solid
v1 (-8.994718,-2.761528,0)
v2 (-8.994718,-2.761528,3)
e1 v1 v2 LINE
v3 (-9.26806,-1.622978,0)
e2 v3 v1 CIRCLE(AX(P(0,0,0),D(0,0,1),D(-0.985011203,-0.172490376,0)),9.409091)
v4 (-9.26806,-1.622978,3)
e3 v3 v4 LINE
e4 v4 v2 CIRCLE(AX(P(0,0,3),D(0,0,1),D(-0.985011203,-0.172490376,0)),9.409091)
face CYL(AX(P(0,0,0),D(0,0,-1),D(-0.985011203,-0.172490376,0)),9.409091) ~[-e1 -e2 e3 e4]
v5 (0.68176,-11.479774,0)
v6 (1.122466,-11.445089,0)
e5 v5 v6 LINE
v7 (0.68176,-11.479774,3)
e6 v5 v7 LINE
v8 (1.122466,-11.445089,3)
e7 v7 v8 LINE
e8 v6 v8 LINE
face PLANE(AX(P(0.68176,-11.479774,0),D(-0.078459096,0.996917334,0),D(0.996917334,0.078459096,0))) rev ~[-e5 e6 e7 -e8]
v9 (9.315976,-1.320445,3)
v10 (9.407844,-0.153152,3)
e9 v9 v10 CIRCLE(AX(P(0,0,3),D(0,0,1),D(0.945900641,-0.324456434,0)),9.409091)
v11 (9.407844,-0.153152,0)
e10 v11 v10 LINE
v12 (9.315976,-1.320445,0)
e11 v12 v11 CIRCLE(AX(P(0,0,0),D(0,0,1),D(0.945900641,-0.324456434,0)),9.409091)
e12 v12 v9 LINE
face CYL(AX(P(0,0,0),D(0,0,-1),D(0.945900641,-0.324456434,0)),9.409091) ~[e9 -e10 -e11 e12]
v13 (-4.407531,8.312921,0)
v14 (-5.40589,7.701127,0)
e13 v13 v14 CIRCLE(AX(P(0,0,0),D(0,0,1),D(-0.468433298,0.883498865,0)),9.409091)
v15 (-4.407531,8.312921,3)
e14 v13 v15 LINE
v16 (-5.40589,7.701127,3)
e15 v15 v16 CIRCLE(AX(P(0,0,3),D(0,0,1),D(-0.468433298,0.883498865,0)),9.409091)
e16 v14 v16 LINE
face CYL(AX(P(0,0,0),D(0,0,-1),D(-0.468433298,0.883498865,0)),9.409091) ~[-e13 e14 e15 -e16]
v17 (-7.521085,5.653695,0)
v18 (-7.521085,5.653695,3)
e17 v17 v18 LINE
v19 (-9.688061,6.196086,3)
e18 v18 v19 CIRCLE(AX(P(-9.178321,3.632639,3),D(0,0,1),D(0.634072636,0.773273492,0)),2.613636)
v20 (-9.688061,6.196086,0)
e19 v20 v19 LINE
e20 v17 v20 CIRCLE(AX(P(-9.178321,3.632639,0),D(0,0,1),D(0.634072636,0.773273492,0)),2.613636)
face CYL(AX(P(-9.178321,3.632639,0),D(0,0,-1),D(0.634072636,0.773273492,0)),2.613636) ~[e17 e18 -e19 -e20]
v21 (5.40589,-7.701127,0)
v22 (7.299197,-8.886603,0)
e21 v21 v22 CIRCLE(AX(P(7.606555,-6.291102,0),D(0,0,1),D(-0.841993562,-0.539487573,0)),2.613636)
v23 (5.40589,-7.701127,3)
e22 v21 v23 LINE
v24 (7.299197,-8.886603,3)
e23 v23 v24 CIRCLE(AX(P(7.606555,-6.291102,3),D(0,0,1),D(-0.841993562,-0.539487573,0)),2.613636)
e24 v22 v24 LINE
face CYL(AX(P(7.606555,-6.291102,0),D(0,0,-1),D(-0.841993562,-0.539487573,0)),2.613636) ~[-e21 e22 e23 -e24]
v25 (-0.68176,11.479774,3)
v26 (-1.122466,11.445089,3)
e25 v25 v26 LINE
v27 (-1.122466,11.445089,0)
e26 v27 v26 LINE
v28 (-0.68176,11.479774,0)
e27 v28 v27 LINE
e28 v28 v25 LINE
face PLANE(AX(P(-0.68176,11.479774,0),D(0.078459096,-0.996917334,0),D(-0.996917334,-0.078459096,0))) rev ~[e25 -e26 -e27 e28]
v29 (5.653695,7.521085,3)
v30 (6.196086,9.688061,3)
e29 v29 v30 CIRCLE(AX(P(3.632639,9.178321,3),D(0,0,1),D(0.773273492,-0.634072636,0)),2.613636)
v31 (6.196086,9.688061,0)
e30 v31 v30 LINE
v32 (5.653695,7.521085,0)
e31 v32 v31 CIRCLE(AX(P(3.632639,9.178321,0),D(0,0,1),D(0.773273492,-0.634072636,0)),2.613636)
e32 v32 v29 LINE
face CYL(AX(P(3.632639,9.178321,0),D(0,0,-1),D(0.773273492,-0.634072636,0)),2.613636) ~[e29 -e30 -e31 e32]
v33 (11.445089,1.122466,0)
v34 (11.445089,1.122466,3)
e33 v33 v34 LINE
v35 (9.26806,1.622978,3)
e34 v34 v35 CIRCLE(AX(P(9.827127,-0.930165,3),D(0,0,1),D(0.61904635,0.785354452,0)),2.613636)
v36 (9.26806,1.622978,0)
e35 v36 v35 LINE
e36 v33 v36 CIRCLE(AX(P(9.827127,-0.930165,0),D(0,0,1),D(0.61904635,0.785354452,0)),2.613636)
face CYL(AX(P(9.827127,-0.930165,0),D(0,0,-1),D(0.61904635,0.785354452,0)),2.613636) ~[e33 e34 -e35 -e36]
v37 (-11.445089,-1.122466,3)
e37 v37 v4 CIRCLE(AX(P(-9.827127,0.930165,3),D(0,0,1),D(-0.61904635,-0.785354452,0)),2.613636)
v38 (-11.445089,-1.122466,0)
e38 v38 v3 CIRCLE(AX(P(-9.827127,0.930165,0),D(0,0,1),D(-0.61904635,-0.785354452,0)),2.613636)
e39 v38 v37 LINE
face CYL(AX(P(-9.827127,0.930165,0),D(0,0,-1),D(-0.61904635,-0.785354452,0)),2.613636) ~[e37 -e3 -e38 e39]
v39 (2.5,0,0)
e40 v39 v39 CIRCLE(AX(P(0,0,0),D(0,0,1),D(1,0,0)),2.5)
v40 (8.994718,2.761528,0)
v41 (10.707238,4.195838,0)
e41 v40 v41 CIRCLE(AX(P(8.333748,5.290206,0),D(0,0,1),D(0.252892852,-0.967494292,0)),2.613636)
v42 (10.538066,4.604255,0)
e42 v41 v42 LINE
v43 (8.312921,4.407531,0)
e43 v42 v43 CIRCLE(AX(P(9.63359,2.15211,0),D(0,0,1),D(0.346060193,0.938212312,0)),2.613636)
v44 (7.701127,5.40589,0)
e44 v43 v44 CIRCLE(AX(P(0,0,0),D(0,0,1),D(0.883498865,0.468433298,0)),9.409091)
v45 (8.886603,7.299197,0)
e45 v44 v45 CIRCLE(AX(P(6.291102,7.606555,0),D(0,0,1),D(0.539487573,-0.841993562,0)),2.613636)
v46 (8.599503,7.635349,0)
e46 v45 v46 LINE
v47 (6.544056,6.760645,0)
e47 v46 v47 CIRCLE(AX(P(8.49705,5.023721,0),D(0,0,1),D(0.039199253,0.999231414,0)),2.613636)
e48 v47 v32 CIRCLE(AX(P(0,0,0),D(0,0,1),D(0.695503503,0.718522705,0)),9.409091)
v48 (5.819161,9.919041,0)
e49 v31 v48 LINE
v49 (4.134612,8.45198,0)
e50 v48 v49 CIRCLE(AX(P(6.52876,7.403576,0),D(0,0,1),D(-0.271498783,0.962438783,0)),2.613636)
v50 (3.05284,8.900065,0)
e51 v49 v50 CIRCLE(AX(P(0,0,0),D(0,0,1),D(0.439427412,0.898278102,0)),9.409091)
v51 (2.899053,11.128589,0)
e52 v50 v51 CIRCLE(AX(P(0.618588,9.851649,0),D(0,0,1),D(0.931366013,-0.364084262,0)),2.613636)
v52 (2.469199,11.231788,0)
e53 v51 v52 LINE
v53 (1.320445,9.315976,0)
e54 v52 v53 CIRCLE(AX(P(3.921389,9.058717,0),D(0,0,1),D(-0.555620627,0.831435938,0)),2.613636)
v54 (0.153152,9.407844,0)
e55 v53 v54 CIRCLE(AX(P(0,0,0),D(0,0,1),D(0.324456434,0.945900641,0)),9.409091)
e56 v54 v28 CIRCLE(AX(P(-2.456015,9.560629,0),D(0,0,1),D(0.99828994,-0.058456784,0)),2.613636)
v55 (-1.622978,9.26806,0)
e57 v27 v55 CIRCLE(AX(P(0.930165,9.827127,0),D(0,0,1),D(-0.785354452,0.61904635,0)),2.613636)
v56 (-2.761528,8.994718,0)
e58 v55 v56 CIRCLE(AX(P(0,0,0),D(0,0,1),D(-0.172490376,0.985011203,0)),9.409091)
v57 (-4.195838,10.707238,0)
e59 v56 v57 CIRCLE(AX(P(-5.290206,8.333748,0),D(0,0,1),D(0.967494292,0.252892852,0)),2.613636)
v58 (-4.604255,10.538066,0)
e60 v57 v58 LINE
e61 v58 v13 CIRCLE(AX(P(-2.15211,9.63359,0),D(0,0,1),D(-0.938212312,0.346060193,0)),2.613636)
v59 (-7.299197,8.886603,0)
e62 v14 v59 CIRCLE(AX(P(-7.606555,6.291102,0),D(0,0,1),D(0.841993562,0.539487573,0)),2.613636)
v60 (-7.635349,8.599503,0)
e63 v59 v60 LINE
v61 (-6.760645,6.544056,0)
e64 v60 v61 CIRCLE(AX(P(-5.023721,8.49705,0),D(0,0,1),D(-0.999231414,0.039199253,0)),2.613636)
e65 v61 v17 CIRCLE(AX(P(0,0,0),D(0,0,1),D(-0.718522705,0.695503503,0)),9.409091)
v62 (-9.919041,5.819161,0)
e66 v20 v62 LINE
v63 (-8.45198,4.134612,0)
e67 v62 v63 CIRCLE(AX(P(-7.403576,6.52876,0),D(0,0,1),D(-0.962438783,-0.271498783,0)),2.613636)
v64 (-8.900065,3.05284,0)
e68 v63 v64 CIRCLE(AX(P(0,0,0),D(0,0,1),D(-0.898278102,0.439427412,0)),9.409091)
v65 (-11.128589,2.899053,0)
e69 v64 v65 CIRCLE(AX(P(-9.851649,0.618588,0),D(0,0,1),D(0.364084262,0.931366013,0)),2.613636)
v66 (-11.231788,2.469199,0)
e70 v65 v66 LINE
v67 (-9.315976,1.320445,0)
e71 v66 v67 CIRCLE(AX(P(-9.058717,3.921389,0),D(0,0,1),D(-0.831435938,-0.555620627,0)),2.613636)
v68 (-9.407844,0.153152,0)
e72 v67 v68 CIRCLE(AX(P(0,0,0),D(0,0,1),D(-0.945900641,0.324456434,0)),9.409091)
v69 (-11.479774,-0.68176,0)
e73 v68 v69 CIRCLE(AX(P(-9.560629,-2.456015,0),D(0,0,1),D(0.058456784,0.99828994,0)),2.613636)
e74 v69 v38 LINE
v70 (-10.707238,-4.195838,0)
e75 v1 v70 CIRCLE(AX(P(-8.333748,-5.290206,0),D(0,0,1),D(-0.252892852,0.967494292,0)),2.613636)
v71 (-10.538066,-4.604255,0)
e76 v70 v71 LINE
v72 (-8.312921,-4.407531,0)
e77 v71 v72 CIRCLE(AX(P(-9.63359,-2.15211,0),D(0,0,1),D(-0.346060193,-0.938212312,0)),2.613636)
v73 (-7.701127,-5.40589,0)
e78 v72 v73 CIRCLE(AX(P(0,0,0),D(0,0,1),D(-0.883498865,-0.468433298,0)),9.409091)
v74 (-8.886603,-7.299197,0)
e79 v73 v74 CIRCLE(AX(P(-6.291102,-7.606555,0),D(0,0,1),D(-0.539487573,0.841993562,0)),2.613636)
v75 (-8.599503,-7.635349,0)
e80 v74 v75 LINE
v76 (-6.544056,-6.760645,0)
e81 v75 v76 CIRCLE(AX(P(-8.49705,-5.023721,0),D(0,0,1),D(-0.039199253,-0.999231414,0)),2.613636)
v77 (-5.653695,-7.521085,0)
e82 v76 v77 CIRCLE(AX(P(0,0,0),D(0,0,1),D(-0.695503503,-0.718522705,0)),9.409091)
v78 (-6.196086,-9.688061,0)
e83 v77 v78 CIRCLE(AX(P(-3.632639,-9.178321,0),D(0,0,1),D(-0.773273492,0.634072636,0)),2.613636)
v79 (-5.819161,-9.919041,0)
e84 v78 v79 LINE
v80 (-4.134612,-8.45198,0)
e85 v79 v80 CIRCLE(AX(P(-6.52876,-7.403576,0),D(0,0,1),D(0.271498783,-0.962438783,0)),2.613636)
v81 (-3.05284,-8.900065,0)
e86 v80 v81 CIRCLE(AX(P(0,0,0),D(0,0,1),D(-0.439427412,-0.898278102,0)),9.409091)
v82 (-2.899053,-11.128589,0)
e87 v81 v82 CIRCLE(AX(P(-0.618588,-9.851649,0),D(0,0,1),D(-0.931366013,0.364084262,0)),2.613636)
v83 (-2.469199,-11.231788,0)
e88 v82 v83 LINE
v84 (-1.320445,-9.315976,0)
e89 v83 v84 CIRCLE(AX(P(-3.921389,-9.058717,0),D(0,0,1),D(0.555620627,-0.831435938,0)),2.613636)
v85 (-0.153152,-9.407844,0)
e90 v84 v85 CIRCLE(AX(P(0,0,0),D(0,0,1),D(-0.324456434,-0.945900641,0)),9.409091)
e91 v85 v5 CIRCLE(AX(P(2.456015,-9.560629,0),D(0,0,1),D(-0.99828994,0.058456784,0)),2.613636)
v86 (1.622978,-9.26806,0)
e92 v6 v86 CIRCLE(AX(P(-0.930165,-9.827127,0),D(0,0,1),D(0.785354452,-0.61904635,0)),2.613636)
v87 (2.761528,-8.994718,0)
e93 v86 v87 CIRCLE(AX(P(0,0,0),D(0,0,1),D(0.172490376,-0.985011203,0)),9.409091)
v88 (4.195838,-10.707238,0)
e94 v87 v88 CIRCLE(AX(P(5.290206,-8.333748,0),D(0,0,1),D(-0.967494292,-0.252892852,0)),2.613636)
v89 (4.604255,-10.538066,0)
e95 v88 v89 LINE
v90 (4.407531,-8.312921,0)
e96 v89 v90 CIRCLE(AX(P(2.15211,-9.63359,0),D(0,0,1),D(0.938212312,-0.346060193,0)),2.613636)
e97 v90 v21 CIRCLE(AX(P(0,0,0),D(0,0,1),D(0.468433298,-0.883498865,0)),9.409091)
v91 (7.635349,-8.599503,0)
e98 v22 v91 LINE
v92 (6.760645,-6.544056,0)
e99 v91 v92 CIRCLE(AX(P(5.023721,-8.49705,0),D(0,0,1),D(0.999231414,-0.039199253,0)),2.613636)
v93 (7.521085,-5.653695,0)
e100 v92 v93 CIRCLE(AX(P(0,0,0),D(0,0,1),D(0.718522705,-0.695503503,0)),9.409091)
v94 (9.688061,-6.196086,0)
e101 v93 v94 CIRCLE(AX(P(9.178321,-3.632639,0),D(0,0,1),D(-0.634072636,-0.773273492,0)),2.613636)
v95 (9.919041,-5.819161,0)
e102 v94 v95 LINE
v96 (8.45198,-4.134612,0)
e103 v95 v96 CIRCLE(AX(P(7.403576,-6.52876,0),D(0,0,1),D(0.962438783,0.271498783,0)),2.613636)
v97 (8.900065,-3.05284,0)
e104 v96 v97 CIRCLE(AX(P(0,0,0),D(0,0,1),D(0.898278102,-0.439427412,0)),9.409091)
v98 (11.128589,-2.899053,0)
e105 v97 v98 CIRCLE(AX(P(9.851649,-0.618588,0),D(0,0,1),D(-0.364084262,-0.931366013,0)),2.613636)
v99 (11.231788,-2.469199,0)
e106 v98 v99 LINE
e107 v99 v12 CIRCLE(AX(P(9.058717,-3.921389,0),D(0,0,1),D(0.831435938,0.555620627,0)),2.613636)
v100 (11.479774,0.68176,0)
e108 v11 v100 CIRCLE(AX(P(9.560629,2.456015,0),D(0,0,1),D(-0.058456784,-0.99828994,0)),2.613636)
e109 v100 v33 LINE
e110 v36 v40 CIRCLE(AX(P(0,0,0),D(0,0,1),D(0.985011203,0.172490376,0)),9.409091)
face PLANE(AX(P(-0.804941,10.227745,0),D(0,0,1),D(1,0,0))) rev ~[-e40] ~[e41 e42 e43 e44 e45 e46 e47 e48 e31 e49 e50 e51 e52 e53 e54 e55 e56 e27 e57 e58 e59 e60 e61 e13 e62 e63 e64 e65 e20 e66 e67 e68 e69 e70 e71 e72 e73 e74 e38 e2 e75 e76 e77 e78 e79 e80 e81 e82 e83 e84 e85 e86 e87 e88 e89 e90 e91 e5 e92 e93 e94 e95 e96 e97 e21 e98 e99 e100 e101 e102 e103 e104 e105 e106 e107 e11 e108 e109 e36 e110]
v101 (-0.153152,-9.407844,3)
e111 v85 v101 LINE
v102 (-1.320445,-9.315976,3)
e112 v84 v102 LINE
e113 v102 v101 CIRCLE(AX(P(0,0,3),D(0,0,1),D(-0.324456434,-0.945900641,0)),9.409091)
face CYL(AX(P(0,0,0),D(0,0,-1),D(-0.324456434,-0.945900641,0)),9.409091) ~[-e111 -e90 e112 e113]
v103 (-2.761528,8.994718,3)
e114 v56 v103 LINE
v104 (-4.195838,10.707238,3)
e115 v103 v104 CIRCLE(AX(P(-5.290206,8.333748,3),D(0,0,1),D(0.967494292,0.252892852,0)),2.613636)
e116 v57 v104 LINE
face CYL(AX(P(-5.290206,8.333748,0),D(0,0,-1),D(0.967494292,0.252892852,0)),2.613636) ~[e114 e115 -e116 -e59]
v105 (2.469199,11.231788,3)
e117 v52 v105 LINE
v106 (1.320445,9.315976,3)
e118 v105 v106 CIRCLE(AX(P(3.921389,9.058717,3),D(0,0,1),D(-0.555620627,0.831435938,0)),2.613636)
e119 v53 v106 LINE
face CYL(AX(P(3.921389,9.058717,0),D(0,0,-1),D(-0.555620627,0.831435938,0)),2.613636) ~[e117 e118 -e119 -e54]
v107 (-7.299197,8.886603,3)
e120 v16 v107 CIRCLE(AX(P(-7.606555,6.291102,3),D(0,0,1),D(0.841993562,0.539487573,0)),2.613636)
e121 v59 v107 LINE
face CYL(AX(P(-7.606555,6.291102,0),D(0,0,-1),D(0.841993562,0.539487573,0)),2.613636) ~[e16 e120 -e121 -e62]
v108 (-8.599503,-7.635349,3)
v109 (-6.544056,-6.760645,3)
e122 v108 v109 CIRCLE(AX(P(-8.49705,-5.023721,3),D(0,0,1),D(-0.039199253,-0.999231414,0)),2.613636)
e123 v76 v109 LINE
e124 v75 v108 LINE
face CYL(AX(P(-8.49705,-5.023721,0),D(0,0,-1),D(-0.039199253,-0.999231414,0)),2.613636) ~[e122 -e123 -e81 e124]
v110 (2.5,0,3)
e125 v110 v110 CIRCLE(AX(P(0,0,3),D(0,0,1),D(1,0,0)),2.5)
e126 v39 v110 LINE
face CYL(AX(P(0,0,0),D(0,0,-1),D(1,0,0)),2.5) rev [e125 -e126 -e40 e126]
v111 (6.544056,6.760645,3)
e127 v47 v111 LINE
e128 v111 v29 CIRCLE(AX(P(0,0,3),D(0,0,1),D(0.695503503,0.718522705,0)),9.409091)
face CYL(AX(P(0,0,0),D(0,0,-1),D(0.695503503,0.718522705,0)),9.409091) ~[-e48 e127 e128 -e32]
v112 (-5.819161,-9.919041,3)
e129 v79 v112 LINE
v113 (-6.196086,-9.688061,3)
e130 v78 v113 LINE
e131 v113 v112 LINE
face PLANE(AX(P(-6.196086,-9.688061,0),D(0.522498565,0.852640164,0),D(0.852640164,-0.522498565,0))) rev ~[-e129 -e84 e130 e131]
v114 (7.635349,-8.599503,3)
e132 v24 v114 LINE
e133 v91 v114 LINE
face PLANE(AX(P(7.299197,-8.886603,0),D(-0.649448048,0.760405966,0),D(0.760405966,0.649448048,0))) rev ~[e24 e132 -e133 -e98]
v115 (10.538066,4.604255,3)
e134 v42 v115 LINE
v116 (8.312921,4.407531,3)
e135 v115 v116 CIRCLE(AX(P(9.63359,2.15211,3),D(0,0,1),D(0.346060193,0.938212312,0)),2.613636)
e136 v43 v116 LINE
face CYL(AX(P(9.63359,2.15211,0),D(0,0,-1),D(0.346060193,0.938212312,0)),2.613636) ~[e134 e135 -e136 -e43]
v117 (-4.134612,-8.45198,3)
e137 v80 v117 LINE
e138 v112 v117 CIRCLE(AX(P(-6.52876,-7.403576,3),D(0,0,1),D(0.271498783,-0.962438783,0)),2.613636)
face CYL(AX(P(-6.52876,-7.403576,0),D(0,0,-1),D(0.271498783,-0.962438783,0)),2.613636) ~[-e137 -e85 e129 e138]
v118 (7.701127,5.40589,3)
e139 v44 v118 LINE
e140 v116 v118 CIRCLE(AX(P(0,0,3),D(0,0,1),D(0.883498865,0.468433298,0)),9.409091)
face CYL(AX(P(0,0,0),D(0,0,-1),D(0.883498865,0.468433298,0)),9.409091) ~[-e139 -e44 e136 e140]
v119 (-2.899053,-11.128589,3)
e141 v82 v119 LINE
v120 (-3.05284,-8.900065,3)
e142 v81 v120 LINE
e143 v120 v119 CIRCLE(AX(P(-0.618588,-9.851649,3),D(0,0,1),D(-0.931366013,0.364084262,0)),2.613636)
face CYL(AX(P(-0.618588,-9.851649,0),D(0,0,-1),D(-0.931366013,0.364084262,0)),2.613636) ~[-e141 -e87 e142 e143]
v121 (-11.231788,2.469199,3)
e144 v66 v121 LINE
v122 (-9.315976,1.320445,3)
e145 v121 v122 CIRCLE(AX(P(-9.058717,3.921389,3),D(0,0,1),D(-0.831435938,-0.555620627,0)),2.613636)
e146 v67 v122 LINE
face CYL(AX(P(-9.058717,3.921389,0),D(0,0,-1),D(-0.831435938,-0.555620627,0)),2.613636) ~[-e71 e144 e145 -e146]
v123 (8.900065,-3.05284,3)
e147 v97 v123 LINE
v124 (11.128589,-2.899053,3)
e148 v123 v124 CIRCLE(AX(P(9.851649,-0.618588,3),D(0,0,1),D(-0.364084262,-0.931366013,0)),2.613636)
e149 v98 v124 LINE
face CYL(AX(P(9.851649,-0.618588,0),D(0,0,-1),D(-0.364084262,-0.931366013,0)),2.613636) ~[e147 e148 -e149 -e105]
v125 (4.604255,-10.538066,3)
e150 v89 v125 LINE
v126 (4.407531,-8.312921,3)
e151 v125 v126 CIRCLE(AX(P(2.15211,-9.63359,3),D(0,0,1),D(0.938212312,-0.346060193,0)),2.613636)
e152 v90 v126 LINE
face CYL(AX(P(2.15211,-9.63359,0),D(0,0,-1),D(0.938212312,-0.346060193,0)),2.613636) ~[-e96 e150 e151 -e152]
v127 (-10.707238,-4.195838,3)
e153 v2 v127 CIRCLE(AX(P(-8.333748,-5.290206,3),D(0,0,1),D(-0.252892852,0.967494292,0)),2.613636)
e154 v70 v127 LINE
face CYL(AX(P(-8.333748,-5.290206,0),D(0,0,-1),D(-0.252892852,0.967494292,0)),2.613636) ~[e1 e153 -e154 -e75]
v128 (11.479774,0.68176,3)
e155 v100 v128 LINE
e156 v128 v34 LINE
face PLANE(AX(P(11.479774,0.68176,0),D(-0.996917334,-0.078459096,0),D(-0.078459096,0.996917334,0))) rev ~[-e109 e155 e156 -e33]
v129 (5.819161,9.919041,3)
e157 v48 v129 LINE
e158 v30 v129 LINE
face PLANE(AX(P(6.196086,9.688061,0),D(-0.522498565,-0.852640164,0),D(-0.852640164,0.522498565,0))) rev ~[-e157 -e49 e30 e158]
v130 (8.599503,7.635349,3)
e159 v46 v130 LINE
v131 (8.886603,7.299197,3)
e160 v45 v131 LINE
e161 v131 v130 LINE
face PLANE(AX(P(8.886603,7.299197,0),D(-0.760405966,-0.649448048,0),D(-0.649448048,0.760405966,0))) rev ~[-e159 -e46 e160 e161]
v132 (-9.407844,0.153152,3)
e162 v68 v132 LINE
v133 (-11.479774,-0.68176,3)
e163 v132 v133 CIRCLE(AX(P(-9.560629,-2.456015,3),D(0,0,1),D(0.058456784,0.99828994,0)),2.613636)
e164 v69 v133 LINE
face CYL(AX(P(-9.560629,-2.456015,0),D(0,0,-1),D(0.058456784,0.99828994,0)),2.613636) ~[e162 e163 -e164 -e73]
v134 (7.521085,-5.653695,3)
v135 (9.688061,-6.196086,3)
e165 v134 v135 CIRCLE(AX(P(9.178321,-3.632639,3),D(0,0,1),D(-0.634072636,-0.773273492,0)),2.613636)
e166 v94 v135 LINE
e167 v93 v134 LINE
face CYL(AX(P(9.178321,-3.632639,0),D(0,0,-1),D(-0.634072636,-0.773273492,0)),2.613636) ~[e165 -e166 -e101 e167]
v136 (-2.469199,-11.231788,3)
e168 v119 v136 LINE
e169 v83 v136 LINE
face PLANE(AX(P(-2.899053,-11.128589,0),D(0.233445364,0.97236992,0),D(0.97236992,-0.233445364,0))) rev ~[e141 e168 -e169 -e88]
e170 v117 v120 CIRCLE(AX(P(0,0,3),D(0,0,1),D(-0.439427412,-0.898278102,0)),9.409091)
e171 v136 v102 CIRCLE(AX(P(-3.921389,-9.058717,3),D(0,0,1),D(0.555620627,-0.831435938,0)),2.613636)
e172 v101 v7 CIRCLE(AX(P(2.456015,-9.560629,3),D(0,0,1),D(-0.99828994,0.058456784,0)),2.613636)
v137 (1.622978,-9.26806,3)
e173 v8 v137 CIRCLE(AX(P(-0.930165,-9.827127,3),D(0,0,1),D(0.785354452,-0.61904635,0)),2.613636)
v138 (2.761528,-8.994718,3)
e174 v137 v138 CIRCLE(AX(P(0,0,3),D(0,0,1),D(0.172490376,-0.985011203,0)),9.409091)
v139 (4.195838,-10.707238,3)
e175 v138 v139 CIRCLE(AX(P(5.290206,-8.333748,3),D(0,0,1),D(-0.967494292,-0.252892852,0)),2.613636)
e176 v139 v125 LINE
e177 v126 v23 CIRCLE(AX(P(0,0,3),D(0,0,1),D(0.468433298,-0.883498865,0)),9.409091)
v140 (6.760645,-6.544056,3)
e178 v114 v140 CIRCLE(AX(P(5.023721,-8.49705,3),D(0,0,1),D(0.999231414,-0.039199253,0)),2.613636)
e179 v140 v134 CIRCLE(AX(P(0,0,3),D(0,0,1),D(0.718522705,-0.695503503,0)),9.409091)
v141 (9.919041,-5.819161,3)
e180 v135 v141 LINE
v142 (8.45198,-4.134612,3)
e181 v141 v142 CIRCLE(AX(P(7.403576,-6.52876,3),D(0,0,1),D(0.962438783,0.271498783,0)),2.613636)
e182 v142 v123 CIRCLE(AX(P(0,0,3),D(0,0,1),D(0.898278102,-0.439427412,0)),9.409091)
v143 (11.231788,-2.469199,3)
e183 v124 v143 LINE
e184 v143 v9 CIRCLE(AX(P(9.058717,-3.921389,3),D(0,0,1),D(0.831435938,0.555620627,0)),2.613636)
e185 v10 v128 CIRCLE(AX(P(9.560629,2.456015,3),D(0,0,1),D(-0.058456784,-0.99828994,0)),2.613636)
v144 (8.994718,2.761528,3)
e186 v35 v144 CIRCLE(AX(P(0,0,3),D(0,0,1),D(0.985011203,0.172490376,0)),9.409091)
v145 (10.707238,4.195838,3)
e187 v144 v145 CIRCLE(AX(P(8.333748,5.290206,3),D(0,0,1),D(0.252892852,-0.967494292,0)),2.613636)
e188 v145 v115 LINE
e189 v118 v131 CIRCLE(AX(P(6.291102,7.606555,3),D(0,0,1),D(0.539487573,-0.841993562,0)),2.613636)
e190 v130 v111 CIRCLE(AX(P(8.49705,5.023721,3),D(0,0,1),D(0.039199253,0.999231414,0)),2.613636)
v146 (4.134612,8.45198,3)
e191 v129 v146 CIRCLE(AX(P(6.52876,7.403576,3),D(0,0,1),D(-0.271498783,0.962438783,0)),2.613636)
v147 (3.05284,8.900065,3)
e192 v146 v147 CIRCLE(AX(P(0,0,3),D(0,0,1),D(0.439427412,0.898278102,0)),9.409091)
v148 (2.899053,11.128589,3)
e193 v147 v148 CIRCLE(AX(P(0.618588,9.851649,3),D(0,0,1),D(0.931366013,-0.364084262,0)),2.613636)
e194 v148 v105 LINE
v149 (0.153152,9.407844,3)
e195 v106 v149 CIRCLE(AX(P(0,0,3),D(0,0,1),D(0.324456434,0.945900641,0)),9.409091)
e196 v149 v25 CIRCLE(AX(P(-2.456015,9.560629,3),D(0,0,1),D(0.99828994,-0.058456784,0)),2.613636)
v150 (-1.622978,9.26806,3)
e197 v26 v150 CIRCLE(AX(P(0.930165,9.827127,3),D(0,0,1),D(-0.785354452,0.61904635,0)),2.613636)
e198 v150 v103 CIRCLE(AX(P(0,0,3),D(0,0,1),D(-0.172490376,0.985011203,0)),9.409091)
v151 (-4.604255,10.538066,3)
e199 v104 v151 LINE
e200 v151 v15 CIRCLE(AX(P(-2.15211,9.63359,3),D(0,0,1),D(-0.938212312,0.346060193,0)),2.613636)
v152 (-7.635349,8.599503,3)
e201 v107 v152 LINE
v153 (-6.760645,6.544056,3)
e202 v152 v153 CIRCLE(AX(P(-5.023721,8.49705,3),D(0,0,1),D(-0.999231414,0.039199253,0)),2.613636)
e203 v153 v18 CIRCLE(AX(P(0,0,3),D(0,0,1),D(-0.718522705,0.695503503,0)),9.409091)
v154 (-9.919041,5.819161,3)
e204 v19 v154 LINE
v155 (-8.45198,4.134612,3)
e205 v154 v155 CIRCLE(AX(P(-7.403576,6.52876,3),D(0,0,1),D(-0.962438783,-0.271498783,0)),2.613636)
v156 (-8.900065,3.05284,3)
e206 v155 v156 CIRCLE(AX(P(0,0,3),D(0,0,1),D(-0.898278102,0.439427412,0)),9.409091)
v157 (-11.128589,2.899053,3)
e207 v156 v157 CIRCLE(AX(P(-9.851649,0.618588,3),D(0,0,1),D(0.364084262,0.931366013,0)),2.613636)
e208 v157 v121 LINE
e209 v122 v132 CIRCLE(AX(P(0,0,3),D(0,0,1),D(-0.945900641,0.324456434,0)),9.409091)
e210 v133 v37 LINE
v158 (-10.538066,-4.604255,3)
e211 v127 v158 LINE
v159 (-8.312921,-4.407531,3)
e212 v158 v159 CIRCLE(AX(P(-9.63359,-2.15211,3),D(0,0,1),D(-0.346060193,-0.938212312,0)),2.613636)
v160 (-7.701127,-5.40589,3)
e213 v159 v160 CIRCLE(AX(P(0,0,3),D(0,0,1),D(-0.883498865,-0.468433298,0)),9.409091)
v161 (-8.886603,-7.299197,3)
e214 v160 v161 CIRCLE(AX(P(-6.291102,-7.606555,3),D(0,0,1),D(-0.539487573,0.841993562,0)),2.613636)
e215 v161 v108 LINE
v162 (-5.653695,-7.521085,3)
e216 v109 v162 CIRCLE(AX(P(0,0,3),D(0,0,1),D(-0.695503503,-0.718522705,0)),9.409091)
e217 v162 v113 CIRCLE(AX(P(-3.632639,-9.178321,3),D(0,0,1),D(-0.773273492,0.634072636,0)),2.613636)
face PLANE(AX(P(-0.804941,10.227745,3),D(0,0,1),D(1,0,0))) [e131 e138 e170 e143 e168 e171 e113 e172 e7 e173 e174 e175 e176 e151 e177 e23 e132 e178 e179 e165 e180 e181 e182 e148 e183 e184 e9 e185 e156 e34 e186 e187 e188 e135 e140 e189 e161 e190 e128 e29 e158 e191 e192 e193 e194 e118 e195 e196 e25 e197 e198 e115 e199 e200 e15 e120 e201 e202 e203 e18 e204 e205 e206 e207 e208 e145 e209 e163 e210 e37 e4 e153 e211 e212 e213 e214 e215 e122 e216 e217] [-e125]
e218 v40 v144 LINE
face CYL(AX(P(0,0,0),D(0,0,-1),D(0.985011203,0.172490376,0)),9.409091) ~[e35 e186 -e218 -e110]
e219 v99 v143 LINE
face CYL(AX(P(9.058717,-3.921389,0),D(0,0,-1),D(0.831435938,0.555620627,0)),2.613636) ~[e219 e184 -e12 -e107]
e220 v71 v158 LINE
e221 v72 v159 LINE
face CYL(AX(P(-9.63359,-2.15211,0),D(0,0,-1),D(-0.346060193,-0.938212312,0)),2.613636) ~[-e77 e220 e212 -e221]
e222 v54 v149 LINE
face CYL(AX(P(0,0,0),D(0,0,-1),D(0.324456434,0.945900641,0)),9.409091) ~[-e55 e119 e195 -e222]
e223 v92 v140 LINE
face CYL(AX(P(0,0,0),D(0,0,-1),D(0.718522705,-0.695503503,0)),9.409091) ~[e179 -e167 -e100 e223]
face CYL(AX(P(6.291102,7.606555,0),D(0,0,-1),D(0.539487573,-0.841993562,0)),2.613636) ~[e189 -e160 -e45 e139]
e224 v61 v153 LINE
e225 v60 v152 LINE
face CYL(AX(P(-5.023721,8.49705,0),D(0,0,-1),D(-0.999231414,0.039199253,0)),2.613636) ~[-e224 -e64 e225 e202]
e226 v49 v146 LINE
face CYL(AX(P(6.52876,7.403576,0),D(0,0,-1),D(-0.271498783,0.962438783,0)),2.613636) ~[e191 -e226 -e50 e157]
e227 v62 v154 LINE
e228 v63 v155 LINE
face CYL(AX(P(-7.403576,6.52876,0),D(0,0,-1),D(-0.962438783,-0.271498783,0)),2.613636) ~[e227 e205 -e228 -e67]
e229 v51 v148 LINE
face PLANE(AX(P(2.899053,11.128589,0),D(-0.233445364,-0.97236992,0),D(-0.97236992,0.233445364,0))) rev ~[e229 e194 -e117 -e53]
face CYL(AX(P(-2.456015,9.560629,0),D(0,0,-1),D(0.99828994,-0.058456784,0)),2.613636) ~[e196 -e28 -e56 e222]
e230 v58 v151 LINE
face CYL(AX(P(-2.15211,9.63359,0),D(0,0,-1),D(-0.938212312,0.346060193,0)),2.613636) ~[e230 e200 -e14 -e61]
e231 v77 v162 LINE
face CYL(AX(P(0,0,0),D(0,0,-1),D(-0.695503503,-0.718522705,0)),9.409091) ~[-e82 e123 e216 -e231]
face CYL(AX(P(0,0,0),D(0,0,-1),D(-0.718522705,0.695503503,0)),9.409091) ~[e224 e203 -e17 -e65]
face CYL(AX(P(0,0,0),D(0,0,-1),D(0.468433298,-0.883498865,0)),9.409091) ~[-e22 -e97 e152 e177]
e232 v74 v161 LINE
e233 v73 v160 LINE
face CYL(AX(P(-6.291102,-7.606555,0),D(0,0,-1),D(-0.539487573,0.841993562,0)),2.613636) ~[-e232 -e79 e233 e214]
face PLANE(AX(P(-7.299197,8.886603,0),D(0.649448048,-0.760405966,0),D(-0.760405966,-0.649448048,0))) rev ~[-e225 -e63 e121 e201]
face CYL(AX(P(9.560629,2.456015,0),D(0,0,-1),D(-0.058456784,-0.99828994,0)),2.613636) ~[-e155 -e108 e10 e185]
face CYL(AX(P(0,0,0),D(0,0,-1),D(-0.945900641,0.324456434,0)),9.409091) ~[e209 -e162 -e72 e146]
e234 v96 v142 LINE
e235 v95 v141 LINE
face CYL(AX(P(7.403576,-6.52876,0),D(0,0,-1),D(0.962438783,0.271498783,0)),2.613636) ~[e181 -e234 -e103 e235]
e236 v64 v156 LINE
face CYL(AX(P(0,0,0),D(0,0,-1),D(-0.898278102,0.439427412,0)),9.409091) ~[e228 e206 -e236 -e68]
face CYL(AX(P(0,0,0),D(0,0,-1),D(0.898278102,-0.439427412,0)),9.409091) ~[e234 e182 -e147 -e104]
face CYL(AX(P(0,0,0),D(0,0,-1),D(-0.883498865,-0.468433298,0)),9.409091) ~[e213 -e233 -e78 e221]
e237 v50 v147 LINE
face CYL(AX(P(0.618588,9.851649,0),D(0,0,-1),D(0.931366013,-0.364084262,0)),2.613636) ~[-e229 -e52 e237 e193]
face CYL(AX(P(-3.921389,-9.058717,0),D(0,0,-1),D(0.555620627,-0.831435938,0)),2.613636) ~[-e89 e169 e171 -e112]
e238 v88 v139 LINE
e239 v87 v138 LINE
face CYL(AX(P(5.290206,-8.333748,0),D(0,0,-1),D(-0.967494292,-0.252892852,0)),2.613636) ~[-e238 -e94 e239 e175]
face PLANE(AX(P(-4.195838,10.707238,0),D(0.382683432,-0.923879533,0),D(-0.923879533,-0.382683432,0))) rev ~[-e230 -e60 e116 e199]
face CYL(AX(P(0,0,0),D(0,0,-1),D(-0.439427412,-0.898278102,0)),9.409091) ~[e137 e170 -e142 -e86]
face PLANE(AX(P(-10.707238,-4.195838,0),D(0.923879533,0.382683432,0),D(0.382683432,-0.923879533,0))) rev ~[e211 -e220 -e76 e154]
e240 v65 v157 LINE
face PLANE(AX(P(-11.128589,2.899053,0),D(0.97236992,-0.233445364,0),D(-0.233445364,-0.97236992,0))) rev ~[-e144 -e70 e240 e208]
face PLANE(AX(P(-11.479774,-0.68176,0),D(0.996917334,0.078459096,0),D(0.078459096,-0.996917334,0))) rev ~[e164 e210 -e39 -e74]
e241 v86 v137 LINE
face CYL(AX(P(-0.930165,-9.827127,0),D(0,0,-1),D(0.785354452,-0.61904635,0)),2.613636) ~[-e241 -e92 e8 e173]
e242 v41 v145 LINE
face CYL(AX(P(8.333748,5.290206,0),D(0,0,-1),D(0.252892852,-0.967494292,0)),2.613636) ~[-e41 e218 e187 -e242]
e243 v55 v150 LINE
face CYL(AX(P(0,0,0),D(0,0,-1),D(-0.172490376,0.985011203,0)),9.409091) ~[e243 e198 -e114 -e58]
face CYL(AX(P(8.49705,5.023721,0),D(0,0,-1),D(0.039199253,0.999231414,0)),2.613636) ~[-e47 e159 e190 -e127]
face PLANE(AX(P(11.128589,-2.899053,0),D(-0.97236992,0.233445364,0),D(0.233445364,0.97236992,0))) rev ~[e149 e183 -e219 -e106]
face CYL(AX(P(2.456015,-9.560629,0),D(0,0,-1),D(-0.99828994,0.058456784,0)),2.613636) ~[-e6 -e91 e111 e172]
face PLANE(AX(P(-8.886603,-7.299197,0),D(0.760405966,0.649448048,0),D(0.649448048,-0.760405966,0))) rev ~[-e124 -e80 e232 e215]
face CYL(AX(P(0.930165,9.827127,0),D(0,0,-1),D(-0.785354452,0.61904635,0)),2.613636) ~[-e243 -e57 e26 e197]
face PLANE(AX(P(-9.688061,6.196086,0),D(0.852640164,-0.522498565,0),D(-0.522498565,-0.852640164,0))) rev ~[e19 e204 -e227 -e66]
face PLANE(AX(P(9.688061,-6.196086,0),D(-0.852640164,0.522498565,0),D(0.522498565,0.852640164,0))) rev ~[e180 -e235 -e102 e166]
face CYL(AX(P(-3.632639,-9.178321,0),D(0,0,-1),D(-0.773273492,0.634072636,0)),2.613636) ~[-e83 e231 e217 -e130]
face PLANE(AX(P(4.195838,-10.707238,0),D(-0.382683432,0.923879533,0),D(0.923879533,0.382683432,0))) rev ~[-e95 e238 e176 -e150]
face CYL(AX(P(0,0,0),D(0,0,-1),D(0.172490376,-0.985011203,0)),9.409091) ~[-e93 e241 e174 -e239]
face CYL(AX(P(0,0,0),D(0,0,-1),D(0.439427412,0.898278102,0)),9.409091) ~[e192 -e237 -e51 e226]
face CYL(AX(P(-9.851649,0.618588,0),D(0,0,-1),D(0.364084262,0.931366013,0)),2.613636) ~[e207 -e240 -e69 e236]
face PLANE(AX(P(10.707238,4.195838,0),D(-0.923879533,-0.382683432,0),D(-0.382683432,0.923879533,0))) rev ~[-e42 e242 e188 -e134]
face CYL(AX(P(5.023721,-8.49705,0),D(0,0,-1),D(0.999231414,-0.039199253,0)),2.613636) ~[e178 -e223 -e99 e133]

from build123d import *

# Parameters (mm, degrees)
F1_R     = 2.5
F2_DEPTH = 3


with BuildPart() as f2:
    # F1 (on Top) → F2 (new body)
    with BuildSketch(Plane.XY):
        with BuildLine():
            ThreePointArc((-1.6229776334, 9.2680599554), (-0.7382287643, 9.3800858219), (0.1531520845, 9.4078443957))
            ThreePointArc((0.1531520845, 9.4078443957), (-0.0317997207, 10.5374998224), (-0.6817601701, 11.4797736507))
            Line((-0.6817601701, 11.4797736507), (-1.1224656787, 11.4450893749))
            ThreePointArc((-1.1224656787, 11.4450893749), (-1.6170199342, 10.4127402859), (-1.6229776334, 9.2680599554))
        make_face()
        with BuildLine():
            ThreePointArc((9.4078443957, -0.1531520845), (9.4087792756, -0.0765785786), (9.4090909091, 0))
            ThreePointArc((9.4090909091, 0), (9.3737668631, 0.8145468262), (9.2680599554, 1.6229776334))
            ThreePointArc((9.2680599554, 1.6229776334), (9.1491169783, 2.1965086508), (8.9947183137, 2.7615275108))
            ThreePointArc((8.9947183137, 2.7615275108), (8.6928665104, 3.6007032045), (8.3129211438, 4.4075314852))
            ThreePointArc((8.3129211438, 4.4075314852), (8.0225688191, 4.9162364953), (7.7011265332, 5.4058895526))
            ThreePointArc((7.7011265332, 5.4058895526), (7.1547288581, 6.1107157275), (6.5440556911, 6.7606454461))
            ThreePointArc((6.5440556911, 6.7606454461), (6.1107157275, 7.1547288581), (5.6536948308, 7.52108546))
            ThreePointArc((5.6536948308, 7.52108546), (4.9162364953, 8.0225688191), (4.1346124722, 8.4519803265))
            ThreePointArc((4.1346124722, 8.4519803265), (3.6007032045, 8.6928665104), (3.0528400867, 8.90006512))
            ThreePointArc((3.0528400867, 8.90006512), (2.1965086508, 9.1491169783), (1.320444577, 9.3159764842))
            ThreePointArc((1.320444577, 9.3159764842), (0.7382287643, 9.3800858219), (0.1531520845, 9.4078443957))
            ThreePointArc((0.1531520845, 9.4078443957), (-0.7382287643, 9.3800858219), (-1.6229776334, 9.2680599554))
            ThreePointArc((-1.6229776334, 9.2680599554), (-2.1965086508, 9.1491169783), (-2.7615275108, 8.9947183137))
            ThreePointArc((-2.7615275108, 8.9947183137), (-3.6007032045, 8.6928665104), (-4.4075314852, 8.3129211438))
            ThreePointArc((-4.4075314852, 8.3129211438), (-4.9162364953, 8.0225688191), (-5.4058895526, 7.7011265332))
            ThreePointArc((-5.4058895526, 7.7011265332), (-6.1107157275, 7.1547288581), (-6.7606454461, 6.5440556911))
            ThreePointArc((-6.7606454461, 6.5440556911), (-7.1547288581, 6.1107157275), (-7.52108546, 5.6536948308))
            ThreePointArc((-7.52108546, 5.6536948308), (-8.0225688191, 4.9162364953), (-8.4519803265, 4.1346124722))
            ThreePointArc((-8.4519803265, 4.1346124722), (-8.6928665104, 3.6007032045), (-8.90006512, 3.0528400867))
            ThreePointArc((-8.90006512, 3.0528400867), (-9.1491169783, 2.1965086508), (-9.3159764842, 1.320444577))
            ThreePointArc((-9.3159764842, 1.320444577), (-9.3800858219, 0.7382287643), (-9.4078443957, 0.1531520845))
            ThreePointArc((-9.4078443957, 0.1531520845), (-9.3800858219, -0.7382287643), (-9.2680599554, -1.6229776334))
            ThreePointArc((-9.2680599554, -1.6229776334), (-9.1491169783, -2.1965086508), (-8.9947183137, -2.7615275108))
            ThreePointArc((-8.9947183137, -2.7615275108), (-8.6928665104, -3.6007032045), (-8.3129211438, -4.4075314852))
            ThreePointArc((-8.3129211438, -4.4075314852), (-8.0225688191, -4.9162364953), (-7.7011265332, -5.4058895526))
            ThreePointArc((-7.7011265332, -5.4058895526), (-7.1547288581, -6.1107157275), (-6.5440556911, -6.7606454461))
            ThreePointArc((-6.5440556911, -6.7606454461), (-6.1107157275, -7.1547288581), (-5.6536948308, -7.52108546))
            ThreePointArc((-5.6536948308, -7.52108546), (-4.9162364953, -8.0225688191), (-4.1346124722, -8.4519803265))
            ThreePointArc((-4.1346124722, -8.4519803265), (-3.6007032045, -8.6928665104), (-3.0528400867, -8.90006512))
            ThreePointArc((-3.0528400867, -8.90006512), (-2.1965086508, -9.1491169783), (-1.320444577, -9.3159764842))
            ThreePointArc((-1.320444577, -9.3159764842), (-0.7382287643, -9.3800858219), (-0.1531520845, -9.4078443957))
            ThreePointArc((-0.1531520845, -9.4078443957), (0.7382287643, -9.3800858219), (1.6229776334, -9.2680599554))
            ThreePointArc((1.6229776334, -9.2680599554), (2.1965086508, -9.1491169783), (2.7615275108, -8.9947183137))
            ThreePointArc((2.7615275108, -8.9947183137), (3.6007032045, -8.6928665104), (4.4075314852, -8.3129211438))
            ThreePointArc((4.4075314852, -8.3129211438), (4.9162364953, -8.0225688191), (5.4058895526, -7.7011265332))
            ThreePointArc((5.4058895526, -7.7011265332), (6.1107157275, -7.1547288581), (6.7606454461, -6.5440556911))
            ThreePointArc((6.7606454461, -6.5440556911), (7.1547288581, -6.1107157275), (7.52108546, -5.6536948308))
            ThreePointArc((7.52108546, -5.6536948308), (8.0225688191, -4.9162364953), (8.4519803265, -4.1346124722))
            ThreePointArc((8.4519803265, -4.1346124722), (8.6928665104, -3.6007032045), (8.90006512, -3.0528400867))
            ThreePointArc((8.90006512, -3.0528400867), (9.1491169783, -2.1965086508), (9.3159764842, -1.320444577))
            ThreePointArc((9.3159764842, -1.320444577), (9.3800858219, -0.7382287643), (9.4078443957, -0.1531520845))
        make_face()
        Circle(F1_R, mode=Mode.SUBTRACT)
        with BuildLine():
            ThreePointArc((-4.4075314852, 8.3129211438), (-3.6007032045, 8.6928665104), (-2.7615275108, 8.9947183137))
            ThreePointArc((-2.7615275108, 8.9947183137), (-3.286509855, 10.0119312174), (-4.195837602, 10.7072380574))
            Line((-4.195837602, 10.7072380574), (-4.604255417, 10.5380658593))
            ThreePointArc((-4.604255417, 10.5380658593), (-4.7555910517, 9.4034178615), (-4.4075314852, 8.3129211438))
        make_face()
        with BuildLine():
            ThreePointArc((-6.7606454461, 6.5440556911), (-6.1107157275, 7.1547288581), (-5.4058895526, 7.7011265332))
            ThreePointArc((-5.4058895526, 7.7011265332), (-6.2195135061, 8.5063250277), (-7.2991972152, 8.8866034014))
            Line((-7.2991972152, 8.8866034014), (-7.6353485554, 8.5995030343))
            ThreePointArc((-7.6353485554, 8.5995030343), (-7.428651783, 7.4736233793), (-6.7606454461, 6.5440556911))
        make_face()
        with BuildLine():
            ThreePointArc((-8.4519803265, 4.1346124722), (-8.0225688191, 4.9162364953), (-7.52108546, 5.6536948308))
            ThreePointArc((-7.52108546, 5.6536948308), (-8.5437078414, 6.1680604771), (-9.6880605486, 6.1960860878))
            Line((-9.6880605486, 6.1960860878), (-9.9190405786, 5.8191609361))
            ThreePointArc((-9.9190405786, 5.8191609361), (-9.3745443193, 4.812258569), (-8.4519803265, 4.1346124722))
        make_face()
        with BuildLine():
            ThreePointArc((-9.3159764842, 1.320444577), (-9.1491169783, 2.1965086508), (-8.90006512, 3.0528400867))
            ThreePointArc((-8.90006512, 3.0528400867), (-10.0315845257, 3.2260231917), (-11.1285890147, 2.8990526973))
            Line((-11.1285890147, 2.8990526973), (-11.2317877999, 2.469198821))
            ThreePointArc((-11.2317877999, 2.469198821), (-10.4027911413, 1.679836361), (-9.3159764842, 1.320444577))
        make_face()
        with BuildLine():
            ThreePointArc((-9.2680599554, -1.6229776334), (-9.3800858219, -0.7382287643), (-9.4078443957, 0.1531520845))
            ThreePointArc((-9.4078443957, 0.1531520845), (-10.5374998224, -0.0317997207), (-11.4797736507, -0.6817601701))
            Line((-11.4797736507, -0.6817601701), (-11.4450893749, -1.1224656787))
            ThreePointArc((-11.4450893749, -1.1224656787), (-10.4127402859, -1.6170199342), (-9.2680599554, -1.6229776334))
        make_face()
        with BuildLine():
            ThreePointArc((-10.5380658593, -4.604255417), (-9.4034178615, -4.7555910517), (-8.3129211438, -4.4075314852))
            ThreePointArc((-8.3129211438, -4.4075314852), (-8.6928665104, -3.6007032045), (-8.9947183137, -2.7615275108))
            ThreePointArc((-8.9947183137, -2.7615275108), (-10.0119312174, -3.286509855), (-10.7072380574, -4.195837602))
            Line((-10.7072380574, -4.195837602), (-10.5380658593, -4.604255417))
        make_face()
        with BuildLine():
            ThreePointArc((-8.5995030343, -7.6353485554), (-7.4736233793, -7.428651783), (-6.5440556911, -6.7606454461))
            ThreePointArc((-6.5440556911, -6.7606454461), (-7.1547288581, -6.1107157275), (-7.7011265332, -5.4058895526))
            ThreePointArc((-7.7011265332, -5.4058895526), (-8.5063250277, -6.2195135061), (-8.8866034014, -7.2991972152))
            Line((-8.8866034014, -7.2991972152), (-8.5995030343, -7.6353485554))
        make_face()
        with BuildLine():
            ThreePointArc((-5.8191609361, -9.9190405786), (-4.812258569, -9.3745443193), (-4.1346124722, -8.4519803265))
            ThreePointArc((-4.1346124722, -8.4519803265), (-4.9162364953, -8.0225688191), (-5.6536948308, -7.52108546))
            ThreePointArc((-5.6536948308, -7.52108546), (-6.1680604771, -8.5437078414), (-6.1960860878, -9.6880605486))
            Line((-6.1960860878, -9.6880605486), (-5.8191609361, -9.9190405786))
        make_face()
        with BuildLine():
            ThreePointArc((-2.469198821, -11.2317877999), (-1.679836361, -10.4027911413), (-1.320444577, -9.3159764842))
            ThreePointArc((-1.320444577, -9.3159764842), (-2.1965086508, -9.1491169783), (-3.0528400867, -8.90006512))
            ThreePointArc((-3.0528400867, -8.90006512), (-3.2260231917, -10.0315845257), (-2.8990526973, -11.1285890147))
            Line((-2.8990526973, -11.1285890147), (-2.469198821, -11.2317877999))
        make_face()
        with BuildLine():
            ThreePointArc((1.1224656787, -11.4450893749), (1.6170199342, -10.4127402859), (1.6229776334, -9.2680599554))
            ThreePointArc((1.6229776334, -9.2680599554), (0.7382287643, -9.3800858219), (-0.1531520845, -9.4078443957))
            ThreePointArc((-0.1531520845, -9.4078443957), (0.0317997207, -10.5374998224), (0.6817601701, -11.4797736507))
            Line((0.6817601701, -11.4797736507), (1.1224656787, -11.4450893749))
        make_face()
        with BuildLine():
            ThreePointArc((4.604255417, -10.5380658593), (4.7555910517, -9.4034178615), (4.4075314852, -8.3129211438))
            ThreePointArc((4.4075314852, -8.3129211438), (3.6007032045, -8.6928665104), (2.7615275108, -8.9947183137))
            ThreePointArc((2.7615275108, -8.9947183137), (3.286509855, -10.0119312174), (4.195837602, -10.7072380574))
            Line((4.195837602, -10.7072380574), (4.604255417, -10.5380658593))
        make_face()
        with BuildLine():
            ThreePointArc((7.6353485554, -8.5995030343), (7.428651783, -7.4736233793), (6.7606454461, -6.5440556911))
            ThreePointArc((6.7606454461, -6.5440556911), (6.1107157275, -7.1547288581), (5.4058895526, -7.7011265332))
            ThreePointArc((5.4058895526, -7.7011265332), (6.2195135061, -8.5063250277), (7.2991972152, -8.8866034014))
            Line((7.2991972152, -8.8866034014), (7.6353485554, -8.5995030343))
        make_face()
        with BuildLine():
            ThreePointArc((9.9190405786, -5.8191609361), (9.3745443193, -4.812258569), (8.4519803265, -4.1346124722))
            ThreePointArc((8.4519803265, -4.1346124722), (8.0225688191, -4.9162364953), (7.52108546, -5.6536948308))
            ThreePointArc((7.52108546, -5.6536948308), (8.5437078414, -6.1680604771), (9.6880605486, -6.1960860878))
            Line((9.6880605486, -6.1960860878), (9.9190405786, -5.8191609361))
        make_face()
        with BuildLine():
            ThreePointArc((11.2317877999, -2.469198821), (10.4027911413, -1.679836361), (9.3159764842, -1.320444577))
            ThreePointArc((9.3159764842, -1.320444577), (9.1491169783, -2.1965086508), (8.90006512, -3.0528400867))
            ThreePointArc((8.90006512, -3.0528400867), (10.0315845257, -3.2260231917), (11.1285890147, -2.8990526973))
            Line((11.1285890147, -2.8990526973), (11.2317877999, -2.469198821))
        make_face()
        with BuildLine():
            ThreePointArc((9.2680599554, 1.6229776334), (9.3737668631, 0.8145468262), (9.4090909091, 0))
            ThreePointArc((9.4090909091, 0), (9.4087792756, -0.0765785786), (9.4078443957, -0.1531520845))
            ThreePointArc((9.4078443957, -0.1531520845), (10.5374998224, 0.0317997207), (11.4797736507, 0.6817601701))
            Line((11.4797736507, 0.6817601701), (11.4450893749, 1.1224656787))
            ThreePointArc((11.4450893749, 1.1224656787), (10.4127402859, 1.6170199342), (9.2680599554, 1.6229776334))
        make_face()
        with BuildLine():
            ThreePointArc((8.3129211438, 4.4075314852), (8.6928665104, 3.6007032045), (8.9947183137, 2.7615275108))
            ThreePointArc((8.9947183137, 2.7615275108), (10.0119312174, 3.286509855), (10.7072380574, 4.195837602))
            Line((10.7072380574, 4.195837602), (10.5380658593, 4.604255417))
            ThreePointArc((10.5380658593, 4.604255417), (9.4034178615, 4.7555910517), (8.3129211438, 4.4075314852))
        make_face()
        with BuildLine():
            ThreePointArc((6.5440556911, 6.7606454461), (7.1547288581, 6.1107157275), (7.7011265332, 5.4058895526))
            ThreePointArc((7.7011265332, 5.4058895526), (8.5063250277, 6.2195135061), (8.8866034014, 7.2991972152))
            Line((8.8866034014, 7.2991972152), (8.5995030343, 7.6353485554))
            ThreePointArc((8.5995030343, 7.6353485554), (7.4736233793, 7.428651783), (6.5440556911, 6.7606454461))
        make_face()
        with BuildLine():
            ThreePointArc((4.1346124722, 8.4519803265), (4.9162364953, 8.0225688191), (5.6536948308, 7.52108546))
            ThreePointArc((5.6536948308, 7.52108546), (6.1680604771, 8.5437078414), (6.1960860878, 9.6880605486))
            Line((6.1960860878, 9.6880605486), (5.8191609361, 9.9190405786))
            ThreePointArc((5.8191609361, 9.9190405786), (4.812258569, 9.3745443193), (4.1346124722, 8.4519803265))
        make_face()
        with BuildLine():
            ThreePointArc((1.320444577, 9.3159764842), (2.1965086508, 9.1491169783), (3.0528400867, 8.90006512))
            ThreePointArc((3.0528400867, 8.90006512), (3.2260231917, 10.0315845257), (2.8990526973, 11.1285890147))
            Line((2.8990526973, 11.1285890147), (2.469198821, 11.2317877999))
            ThreePointArc((2.469198821, 11.2317877999), (1.679836361, 10.4027911413), (1.320444577, 9.3159764842))
        make_face()
    extrude(amount=F2_DEPTH)


solid = f2.part
